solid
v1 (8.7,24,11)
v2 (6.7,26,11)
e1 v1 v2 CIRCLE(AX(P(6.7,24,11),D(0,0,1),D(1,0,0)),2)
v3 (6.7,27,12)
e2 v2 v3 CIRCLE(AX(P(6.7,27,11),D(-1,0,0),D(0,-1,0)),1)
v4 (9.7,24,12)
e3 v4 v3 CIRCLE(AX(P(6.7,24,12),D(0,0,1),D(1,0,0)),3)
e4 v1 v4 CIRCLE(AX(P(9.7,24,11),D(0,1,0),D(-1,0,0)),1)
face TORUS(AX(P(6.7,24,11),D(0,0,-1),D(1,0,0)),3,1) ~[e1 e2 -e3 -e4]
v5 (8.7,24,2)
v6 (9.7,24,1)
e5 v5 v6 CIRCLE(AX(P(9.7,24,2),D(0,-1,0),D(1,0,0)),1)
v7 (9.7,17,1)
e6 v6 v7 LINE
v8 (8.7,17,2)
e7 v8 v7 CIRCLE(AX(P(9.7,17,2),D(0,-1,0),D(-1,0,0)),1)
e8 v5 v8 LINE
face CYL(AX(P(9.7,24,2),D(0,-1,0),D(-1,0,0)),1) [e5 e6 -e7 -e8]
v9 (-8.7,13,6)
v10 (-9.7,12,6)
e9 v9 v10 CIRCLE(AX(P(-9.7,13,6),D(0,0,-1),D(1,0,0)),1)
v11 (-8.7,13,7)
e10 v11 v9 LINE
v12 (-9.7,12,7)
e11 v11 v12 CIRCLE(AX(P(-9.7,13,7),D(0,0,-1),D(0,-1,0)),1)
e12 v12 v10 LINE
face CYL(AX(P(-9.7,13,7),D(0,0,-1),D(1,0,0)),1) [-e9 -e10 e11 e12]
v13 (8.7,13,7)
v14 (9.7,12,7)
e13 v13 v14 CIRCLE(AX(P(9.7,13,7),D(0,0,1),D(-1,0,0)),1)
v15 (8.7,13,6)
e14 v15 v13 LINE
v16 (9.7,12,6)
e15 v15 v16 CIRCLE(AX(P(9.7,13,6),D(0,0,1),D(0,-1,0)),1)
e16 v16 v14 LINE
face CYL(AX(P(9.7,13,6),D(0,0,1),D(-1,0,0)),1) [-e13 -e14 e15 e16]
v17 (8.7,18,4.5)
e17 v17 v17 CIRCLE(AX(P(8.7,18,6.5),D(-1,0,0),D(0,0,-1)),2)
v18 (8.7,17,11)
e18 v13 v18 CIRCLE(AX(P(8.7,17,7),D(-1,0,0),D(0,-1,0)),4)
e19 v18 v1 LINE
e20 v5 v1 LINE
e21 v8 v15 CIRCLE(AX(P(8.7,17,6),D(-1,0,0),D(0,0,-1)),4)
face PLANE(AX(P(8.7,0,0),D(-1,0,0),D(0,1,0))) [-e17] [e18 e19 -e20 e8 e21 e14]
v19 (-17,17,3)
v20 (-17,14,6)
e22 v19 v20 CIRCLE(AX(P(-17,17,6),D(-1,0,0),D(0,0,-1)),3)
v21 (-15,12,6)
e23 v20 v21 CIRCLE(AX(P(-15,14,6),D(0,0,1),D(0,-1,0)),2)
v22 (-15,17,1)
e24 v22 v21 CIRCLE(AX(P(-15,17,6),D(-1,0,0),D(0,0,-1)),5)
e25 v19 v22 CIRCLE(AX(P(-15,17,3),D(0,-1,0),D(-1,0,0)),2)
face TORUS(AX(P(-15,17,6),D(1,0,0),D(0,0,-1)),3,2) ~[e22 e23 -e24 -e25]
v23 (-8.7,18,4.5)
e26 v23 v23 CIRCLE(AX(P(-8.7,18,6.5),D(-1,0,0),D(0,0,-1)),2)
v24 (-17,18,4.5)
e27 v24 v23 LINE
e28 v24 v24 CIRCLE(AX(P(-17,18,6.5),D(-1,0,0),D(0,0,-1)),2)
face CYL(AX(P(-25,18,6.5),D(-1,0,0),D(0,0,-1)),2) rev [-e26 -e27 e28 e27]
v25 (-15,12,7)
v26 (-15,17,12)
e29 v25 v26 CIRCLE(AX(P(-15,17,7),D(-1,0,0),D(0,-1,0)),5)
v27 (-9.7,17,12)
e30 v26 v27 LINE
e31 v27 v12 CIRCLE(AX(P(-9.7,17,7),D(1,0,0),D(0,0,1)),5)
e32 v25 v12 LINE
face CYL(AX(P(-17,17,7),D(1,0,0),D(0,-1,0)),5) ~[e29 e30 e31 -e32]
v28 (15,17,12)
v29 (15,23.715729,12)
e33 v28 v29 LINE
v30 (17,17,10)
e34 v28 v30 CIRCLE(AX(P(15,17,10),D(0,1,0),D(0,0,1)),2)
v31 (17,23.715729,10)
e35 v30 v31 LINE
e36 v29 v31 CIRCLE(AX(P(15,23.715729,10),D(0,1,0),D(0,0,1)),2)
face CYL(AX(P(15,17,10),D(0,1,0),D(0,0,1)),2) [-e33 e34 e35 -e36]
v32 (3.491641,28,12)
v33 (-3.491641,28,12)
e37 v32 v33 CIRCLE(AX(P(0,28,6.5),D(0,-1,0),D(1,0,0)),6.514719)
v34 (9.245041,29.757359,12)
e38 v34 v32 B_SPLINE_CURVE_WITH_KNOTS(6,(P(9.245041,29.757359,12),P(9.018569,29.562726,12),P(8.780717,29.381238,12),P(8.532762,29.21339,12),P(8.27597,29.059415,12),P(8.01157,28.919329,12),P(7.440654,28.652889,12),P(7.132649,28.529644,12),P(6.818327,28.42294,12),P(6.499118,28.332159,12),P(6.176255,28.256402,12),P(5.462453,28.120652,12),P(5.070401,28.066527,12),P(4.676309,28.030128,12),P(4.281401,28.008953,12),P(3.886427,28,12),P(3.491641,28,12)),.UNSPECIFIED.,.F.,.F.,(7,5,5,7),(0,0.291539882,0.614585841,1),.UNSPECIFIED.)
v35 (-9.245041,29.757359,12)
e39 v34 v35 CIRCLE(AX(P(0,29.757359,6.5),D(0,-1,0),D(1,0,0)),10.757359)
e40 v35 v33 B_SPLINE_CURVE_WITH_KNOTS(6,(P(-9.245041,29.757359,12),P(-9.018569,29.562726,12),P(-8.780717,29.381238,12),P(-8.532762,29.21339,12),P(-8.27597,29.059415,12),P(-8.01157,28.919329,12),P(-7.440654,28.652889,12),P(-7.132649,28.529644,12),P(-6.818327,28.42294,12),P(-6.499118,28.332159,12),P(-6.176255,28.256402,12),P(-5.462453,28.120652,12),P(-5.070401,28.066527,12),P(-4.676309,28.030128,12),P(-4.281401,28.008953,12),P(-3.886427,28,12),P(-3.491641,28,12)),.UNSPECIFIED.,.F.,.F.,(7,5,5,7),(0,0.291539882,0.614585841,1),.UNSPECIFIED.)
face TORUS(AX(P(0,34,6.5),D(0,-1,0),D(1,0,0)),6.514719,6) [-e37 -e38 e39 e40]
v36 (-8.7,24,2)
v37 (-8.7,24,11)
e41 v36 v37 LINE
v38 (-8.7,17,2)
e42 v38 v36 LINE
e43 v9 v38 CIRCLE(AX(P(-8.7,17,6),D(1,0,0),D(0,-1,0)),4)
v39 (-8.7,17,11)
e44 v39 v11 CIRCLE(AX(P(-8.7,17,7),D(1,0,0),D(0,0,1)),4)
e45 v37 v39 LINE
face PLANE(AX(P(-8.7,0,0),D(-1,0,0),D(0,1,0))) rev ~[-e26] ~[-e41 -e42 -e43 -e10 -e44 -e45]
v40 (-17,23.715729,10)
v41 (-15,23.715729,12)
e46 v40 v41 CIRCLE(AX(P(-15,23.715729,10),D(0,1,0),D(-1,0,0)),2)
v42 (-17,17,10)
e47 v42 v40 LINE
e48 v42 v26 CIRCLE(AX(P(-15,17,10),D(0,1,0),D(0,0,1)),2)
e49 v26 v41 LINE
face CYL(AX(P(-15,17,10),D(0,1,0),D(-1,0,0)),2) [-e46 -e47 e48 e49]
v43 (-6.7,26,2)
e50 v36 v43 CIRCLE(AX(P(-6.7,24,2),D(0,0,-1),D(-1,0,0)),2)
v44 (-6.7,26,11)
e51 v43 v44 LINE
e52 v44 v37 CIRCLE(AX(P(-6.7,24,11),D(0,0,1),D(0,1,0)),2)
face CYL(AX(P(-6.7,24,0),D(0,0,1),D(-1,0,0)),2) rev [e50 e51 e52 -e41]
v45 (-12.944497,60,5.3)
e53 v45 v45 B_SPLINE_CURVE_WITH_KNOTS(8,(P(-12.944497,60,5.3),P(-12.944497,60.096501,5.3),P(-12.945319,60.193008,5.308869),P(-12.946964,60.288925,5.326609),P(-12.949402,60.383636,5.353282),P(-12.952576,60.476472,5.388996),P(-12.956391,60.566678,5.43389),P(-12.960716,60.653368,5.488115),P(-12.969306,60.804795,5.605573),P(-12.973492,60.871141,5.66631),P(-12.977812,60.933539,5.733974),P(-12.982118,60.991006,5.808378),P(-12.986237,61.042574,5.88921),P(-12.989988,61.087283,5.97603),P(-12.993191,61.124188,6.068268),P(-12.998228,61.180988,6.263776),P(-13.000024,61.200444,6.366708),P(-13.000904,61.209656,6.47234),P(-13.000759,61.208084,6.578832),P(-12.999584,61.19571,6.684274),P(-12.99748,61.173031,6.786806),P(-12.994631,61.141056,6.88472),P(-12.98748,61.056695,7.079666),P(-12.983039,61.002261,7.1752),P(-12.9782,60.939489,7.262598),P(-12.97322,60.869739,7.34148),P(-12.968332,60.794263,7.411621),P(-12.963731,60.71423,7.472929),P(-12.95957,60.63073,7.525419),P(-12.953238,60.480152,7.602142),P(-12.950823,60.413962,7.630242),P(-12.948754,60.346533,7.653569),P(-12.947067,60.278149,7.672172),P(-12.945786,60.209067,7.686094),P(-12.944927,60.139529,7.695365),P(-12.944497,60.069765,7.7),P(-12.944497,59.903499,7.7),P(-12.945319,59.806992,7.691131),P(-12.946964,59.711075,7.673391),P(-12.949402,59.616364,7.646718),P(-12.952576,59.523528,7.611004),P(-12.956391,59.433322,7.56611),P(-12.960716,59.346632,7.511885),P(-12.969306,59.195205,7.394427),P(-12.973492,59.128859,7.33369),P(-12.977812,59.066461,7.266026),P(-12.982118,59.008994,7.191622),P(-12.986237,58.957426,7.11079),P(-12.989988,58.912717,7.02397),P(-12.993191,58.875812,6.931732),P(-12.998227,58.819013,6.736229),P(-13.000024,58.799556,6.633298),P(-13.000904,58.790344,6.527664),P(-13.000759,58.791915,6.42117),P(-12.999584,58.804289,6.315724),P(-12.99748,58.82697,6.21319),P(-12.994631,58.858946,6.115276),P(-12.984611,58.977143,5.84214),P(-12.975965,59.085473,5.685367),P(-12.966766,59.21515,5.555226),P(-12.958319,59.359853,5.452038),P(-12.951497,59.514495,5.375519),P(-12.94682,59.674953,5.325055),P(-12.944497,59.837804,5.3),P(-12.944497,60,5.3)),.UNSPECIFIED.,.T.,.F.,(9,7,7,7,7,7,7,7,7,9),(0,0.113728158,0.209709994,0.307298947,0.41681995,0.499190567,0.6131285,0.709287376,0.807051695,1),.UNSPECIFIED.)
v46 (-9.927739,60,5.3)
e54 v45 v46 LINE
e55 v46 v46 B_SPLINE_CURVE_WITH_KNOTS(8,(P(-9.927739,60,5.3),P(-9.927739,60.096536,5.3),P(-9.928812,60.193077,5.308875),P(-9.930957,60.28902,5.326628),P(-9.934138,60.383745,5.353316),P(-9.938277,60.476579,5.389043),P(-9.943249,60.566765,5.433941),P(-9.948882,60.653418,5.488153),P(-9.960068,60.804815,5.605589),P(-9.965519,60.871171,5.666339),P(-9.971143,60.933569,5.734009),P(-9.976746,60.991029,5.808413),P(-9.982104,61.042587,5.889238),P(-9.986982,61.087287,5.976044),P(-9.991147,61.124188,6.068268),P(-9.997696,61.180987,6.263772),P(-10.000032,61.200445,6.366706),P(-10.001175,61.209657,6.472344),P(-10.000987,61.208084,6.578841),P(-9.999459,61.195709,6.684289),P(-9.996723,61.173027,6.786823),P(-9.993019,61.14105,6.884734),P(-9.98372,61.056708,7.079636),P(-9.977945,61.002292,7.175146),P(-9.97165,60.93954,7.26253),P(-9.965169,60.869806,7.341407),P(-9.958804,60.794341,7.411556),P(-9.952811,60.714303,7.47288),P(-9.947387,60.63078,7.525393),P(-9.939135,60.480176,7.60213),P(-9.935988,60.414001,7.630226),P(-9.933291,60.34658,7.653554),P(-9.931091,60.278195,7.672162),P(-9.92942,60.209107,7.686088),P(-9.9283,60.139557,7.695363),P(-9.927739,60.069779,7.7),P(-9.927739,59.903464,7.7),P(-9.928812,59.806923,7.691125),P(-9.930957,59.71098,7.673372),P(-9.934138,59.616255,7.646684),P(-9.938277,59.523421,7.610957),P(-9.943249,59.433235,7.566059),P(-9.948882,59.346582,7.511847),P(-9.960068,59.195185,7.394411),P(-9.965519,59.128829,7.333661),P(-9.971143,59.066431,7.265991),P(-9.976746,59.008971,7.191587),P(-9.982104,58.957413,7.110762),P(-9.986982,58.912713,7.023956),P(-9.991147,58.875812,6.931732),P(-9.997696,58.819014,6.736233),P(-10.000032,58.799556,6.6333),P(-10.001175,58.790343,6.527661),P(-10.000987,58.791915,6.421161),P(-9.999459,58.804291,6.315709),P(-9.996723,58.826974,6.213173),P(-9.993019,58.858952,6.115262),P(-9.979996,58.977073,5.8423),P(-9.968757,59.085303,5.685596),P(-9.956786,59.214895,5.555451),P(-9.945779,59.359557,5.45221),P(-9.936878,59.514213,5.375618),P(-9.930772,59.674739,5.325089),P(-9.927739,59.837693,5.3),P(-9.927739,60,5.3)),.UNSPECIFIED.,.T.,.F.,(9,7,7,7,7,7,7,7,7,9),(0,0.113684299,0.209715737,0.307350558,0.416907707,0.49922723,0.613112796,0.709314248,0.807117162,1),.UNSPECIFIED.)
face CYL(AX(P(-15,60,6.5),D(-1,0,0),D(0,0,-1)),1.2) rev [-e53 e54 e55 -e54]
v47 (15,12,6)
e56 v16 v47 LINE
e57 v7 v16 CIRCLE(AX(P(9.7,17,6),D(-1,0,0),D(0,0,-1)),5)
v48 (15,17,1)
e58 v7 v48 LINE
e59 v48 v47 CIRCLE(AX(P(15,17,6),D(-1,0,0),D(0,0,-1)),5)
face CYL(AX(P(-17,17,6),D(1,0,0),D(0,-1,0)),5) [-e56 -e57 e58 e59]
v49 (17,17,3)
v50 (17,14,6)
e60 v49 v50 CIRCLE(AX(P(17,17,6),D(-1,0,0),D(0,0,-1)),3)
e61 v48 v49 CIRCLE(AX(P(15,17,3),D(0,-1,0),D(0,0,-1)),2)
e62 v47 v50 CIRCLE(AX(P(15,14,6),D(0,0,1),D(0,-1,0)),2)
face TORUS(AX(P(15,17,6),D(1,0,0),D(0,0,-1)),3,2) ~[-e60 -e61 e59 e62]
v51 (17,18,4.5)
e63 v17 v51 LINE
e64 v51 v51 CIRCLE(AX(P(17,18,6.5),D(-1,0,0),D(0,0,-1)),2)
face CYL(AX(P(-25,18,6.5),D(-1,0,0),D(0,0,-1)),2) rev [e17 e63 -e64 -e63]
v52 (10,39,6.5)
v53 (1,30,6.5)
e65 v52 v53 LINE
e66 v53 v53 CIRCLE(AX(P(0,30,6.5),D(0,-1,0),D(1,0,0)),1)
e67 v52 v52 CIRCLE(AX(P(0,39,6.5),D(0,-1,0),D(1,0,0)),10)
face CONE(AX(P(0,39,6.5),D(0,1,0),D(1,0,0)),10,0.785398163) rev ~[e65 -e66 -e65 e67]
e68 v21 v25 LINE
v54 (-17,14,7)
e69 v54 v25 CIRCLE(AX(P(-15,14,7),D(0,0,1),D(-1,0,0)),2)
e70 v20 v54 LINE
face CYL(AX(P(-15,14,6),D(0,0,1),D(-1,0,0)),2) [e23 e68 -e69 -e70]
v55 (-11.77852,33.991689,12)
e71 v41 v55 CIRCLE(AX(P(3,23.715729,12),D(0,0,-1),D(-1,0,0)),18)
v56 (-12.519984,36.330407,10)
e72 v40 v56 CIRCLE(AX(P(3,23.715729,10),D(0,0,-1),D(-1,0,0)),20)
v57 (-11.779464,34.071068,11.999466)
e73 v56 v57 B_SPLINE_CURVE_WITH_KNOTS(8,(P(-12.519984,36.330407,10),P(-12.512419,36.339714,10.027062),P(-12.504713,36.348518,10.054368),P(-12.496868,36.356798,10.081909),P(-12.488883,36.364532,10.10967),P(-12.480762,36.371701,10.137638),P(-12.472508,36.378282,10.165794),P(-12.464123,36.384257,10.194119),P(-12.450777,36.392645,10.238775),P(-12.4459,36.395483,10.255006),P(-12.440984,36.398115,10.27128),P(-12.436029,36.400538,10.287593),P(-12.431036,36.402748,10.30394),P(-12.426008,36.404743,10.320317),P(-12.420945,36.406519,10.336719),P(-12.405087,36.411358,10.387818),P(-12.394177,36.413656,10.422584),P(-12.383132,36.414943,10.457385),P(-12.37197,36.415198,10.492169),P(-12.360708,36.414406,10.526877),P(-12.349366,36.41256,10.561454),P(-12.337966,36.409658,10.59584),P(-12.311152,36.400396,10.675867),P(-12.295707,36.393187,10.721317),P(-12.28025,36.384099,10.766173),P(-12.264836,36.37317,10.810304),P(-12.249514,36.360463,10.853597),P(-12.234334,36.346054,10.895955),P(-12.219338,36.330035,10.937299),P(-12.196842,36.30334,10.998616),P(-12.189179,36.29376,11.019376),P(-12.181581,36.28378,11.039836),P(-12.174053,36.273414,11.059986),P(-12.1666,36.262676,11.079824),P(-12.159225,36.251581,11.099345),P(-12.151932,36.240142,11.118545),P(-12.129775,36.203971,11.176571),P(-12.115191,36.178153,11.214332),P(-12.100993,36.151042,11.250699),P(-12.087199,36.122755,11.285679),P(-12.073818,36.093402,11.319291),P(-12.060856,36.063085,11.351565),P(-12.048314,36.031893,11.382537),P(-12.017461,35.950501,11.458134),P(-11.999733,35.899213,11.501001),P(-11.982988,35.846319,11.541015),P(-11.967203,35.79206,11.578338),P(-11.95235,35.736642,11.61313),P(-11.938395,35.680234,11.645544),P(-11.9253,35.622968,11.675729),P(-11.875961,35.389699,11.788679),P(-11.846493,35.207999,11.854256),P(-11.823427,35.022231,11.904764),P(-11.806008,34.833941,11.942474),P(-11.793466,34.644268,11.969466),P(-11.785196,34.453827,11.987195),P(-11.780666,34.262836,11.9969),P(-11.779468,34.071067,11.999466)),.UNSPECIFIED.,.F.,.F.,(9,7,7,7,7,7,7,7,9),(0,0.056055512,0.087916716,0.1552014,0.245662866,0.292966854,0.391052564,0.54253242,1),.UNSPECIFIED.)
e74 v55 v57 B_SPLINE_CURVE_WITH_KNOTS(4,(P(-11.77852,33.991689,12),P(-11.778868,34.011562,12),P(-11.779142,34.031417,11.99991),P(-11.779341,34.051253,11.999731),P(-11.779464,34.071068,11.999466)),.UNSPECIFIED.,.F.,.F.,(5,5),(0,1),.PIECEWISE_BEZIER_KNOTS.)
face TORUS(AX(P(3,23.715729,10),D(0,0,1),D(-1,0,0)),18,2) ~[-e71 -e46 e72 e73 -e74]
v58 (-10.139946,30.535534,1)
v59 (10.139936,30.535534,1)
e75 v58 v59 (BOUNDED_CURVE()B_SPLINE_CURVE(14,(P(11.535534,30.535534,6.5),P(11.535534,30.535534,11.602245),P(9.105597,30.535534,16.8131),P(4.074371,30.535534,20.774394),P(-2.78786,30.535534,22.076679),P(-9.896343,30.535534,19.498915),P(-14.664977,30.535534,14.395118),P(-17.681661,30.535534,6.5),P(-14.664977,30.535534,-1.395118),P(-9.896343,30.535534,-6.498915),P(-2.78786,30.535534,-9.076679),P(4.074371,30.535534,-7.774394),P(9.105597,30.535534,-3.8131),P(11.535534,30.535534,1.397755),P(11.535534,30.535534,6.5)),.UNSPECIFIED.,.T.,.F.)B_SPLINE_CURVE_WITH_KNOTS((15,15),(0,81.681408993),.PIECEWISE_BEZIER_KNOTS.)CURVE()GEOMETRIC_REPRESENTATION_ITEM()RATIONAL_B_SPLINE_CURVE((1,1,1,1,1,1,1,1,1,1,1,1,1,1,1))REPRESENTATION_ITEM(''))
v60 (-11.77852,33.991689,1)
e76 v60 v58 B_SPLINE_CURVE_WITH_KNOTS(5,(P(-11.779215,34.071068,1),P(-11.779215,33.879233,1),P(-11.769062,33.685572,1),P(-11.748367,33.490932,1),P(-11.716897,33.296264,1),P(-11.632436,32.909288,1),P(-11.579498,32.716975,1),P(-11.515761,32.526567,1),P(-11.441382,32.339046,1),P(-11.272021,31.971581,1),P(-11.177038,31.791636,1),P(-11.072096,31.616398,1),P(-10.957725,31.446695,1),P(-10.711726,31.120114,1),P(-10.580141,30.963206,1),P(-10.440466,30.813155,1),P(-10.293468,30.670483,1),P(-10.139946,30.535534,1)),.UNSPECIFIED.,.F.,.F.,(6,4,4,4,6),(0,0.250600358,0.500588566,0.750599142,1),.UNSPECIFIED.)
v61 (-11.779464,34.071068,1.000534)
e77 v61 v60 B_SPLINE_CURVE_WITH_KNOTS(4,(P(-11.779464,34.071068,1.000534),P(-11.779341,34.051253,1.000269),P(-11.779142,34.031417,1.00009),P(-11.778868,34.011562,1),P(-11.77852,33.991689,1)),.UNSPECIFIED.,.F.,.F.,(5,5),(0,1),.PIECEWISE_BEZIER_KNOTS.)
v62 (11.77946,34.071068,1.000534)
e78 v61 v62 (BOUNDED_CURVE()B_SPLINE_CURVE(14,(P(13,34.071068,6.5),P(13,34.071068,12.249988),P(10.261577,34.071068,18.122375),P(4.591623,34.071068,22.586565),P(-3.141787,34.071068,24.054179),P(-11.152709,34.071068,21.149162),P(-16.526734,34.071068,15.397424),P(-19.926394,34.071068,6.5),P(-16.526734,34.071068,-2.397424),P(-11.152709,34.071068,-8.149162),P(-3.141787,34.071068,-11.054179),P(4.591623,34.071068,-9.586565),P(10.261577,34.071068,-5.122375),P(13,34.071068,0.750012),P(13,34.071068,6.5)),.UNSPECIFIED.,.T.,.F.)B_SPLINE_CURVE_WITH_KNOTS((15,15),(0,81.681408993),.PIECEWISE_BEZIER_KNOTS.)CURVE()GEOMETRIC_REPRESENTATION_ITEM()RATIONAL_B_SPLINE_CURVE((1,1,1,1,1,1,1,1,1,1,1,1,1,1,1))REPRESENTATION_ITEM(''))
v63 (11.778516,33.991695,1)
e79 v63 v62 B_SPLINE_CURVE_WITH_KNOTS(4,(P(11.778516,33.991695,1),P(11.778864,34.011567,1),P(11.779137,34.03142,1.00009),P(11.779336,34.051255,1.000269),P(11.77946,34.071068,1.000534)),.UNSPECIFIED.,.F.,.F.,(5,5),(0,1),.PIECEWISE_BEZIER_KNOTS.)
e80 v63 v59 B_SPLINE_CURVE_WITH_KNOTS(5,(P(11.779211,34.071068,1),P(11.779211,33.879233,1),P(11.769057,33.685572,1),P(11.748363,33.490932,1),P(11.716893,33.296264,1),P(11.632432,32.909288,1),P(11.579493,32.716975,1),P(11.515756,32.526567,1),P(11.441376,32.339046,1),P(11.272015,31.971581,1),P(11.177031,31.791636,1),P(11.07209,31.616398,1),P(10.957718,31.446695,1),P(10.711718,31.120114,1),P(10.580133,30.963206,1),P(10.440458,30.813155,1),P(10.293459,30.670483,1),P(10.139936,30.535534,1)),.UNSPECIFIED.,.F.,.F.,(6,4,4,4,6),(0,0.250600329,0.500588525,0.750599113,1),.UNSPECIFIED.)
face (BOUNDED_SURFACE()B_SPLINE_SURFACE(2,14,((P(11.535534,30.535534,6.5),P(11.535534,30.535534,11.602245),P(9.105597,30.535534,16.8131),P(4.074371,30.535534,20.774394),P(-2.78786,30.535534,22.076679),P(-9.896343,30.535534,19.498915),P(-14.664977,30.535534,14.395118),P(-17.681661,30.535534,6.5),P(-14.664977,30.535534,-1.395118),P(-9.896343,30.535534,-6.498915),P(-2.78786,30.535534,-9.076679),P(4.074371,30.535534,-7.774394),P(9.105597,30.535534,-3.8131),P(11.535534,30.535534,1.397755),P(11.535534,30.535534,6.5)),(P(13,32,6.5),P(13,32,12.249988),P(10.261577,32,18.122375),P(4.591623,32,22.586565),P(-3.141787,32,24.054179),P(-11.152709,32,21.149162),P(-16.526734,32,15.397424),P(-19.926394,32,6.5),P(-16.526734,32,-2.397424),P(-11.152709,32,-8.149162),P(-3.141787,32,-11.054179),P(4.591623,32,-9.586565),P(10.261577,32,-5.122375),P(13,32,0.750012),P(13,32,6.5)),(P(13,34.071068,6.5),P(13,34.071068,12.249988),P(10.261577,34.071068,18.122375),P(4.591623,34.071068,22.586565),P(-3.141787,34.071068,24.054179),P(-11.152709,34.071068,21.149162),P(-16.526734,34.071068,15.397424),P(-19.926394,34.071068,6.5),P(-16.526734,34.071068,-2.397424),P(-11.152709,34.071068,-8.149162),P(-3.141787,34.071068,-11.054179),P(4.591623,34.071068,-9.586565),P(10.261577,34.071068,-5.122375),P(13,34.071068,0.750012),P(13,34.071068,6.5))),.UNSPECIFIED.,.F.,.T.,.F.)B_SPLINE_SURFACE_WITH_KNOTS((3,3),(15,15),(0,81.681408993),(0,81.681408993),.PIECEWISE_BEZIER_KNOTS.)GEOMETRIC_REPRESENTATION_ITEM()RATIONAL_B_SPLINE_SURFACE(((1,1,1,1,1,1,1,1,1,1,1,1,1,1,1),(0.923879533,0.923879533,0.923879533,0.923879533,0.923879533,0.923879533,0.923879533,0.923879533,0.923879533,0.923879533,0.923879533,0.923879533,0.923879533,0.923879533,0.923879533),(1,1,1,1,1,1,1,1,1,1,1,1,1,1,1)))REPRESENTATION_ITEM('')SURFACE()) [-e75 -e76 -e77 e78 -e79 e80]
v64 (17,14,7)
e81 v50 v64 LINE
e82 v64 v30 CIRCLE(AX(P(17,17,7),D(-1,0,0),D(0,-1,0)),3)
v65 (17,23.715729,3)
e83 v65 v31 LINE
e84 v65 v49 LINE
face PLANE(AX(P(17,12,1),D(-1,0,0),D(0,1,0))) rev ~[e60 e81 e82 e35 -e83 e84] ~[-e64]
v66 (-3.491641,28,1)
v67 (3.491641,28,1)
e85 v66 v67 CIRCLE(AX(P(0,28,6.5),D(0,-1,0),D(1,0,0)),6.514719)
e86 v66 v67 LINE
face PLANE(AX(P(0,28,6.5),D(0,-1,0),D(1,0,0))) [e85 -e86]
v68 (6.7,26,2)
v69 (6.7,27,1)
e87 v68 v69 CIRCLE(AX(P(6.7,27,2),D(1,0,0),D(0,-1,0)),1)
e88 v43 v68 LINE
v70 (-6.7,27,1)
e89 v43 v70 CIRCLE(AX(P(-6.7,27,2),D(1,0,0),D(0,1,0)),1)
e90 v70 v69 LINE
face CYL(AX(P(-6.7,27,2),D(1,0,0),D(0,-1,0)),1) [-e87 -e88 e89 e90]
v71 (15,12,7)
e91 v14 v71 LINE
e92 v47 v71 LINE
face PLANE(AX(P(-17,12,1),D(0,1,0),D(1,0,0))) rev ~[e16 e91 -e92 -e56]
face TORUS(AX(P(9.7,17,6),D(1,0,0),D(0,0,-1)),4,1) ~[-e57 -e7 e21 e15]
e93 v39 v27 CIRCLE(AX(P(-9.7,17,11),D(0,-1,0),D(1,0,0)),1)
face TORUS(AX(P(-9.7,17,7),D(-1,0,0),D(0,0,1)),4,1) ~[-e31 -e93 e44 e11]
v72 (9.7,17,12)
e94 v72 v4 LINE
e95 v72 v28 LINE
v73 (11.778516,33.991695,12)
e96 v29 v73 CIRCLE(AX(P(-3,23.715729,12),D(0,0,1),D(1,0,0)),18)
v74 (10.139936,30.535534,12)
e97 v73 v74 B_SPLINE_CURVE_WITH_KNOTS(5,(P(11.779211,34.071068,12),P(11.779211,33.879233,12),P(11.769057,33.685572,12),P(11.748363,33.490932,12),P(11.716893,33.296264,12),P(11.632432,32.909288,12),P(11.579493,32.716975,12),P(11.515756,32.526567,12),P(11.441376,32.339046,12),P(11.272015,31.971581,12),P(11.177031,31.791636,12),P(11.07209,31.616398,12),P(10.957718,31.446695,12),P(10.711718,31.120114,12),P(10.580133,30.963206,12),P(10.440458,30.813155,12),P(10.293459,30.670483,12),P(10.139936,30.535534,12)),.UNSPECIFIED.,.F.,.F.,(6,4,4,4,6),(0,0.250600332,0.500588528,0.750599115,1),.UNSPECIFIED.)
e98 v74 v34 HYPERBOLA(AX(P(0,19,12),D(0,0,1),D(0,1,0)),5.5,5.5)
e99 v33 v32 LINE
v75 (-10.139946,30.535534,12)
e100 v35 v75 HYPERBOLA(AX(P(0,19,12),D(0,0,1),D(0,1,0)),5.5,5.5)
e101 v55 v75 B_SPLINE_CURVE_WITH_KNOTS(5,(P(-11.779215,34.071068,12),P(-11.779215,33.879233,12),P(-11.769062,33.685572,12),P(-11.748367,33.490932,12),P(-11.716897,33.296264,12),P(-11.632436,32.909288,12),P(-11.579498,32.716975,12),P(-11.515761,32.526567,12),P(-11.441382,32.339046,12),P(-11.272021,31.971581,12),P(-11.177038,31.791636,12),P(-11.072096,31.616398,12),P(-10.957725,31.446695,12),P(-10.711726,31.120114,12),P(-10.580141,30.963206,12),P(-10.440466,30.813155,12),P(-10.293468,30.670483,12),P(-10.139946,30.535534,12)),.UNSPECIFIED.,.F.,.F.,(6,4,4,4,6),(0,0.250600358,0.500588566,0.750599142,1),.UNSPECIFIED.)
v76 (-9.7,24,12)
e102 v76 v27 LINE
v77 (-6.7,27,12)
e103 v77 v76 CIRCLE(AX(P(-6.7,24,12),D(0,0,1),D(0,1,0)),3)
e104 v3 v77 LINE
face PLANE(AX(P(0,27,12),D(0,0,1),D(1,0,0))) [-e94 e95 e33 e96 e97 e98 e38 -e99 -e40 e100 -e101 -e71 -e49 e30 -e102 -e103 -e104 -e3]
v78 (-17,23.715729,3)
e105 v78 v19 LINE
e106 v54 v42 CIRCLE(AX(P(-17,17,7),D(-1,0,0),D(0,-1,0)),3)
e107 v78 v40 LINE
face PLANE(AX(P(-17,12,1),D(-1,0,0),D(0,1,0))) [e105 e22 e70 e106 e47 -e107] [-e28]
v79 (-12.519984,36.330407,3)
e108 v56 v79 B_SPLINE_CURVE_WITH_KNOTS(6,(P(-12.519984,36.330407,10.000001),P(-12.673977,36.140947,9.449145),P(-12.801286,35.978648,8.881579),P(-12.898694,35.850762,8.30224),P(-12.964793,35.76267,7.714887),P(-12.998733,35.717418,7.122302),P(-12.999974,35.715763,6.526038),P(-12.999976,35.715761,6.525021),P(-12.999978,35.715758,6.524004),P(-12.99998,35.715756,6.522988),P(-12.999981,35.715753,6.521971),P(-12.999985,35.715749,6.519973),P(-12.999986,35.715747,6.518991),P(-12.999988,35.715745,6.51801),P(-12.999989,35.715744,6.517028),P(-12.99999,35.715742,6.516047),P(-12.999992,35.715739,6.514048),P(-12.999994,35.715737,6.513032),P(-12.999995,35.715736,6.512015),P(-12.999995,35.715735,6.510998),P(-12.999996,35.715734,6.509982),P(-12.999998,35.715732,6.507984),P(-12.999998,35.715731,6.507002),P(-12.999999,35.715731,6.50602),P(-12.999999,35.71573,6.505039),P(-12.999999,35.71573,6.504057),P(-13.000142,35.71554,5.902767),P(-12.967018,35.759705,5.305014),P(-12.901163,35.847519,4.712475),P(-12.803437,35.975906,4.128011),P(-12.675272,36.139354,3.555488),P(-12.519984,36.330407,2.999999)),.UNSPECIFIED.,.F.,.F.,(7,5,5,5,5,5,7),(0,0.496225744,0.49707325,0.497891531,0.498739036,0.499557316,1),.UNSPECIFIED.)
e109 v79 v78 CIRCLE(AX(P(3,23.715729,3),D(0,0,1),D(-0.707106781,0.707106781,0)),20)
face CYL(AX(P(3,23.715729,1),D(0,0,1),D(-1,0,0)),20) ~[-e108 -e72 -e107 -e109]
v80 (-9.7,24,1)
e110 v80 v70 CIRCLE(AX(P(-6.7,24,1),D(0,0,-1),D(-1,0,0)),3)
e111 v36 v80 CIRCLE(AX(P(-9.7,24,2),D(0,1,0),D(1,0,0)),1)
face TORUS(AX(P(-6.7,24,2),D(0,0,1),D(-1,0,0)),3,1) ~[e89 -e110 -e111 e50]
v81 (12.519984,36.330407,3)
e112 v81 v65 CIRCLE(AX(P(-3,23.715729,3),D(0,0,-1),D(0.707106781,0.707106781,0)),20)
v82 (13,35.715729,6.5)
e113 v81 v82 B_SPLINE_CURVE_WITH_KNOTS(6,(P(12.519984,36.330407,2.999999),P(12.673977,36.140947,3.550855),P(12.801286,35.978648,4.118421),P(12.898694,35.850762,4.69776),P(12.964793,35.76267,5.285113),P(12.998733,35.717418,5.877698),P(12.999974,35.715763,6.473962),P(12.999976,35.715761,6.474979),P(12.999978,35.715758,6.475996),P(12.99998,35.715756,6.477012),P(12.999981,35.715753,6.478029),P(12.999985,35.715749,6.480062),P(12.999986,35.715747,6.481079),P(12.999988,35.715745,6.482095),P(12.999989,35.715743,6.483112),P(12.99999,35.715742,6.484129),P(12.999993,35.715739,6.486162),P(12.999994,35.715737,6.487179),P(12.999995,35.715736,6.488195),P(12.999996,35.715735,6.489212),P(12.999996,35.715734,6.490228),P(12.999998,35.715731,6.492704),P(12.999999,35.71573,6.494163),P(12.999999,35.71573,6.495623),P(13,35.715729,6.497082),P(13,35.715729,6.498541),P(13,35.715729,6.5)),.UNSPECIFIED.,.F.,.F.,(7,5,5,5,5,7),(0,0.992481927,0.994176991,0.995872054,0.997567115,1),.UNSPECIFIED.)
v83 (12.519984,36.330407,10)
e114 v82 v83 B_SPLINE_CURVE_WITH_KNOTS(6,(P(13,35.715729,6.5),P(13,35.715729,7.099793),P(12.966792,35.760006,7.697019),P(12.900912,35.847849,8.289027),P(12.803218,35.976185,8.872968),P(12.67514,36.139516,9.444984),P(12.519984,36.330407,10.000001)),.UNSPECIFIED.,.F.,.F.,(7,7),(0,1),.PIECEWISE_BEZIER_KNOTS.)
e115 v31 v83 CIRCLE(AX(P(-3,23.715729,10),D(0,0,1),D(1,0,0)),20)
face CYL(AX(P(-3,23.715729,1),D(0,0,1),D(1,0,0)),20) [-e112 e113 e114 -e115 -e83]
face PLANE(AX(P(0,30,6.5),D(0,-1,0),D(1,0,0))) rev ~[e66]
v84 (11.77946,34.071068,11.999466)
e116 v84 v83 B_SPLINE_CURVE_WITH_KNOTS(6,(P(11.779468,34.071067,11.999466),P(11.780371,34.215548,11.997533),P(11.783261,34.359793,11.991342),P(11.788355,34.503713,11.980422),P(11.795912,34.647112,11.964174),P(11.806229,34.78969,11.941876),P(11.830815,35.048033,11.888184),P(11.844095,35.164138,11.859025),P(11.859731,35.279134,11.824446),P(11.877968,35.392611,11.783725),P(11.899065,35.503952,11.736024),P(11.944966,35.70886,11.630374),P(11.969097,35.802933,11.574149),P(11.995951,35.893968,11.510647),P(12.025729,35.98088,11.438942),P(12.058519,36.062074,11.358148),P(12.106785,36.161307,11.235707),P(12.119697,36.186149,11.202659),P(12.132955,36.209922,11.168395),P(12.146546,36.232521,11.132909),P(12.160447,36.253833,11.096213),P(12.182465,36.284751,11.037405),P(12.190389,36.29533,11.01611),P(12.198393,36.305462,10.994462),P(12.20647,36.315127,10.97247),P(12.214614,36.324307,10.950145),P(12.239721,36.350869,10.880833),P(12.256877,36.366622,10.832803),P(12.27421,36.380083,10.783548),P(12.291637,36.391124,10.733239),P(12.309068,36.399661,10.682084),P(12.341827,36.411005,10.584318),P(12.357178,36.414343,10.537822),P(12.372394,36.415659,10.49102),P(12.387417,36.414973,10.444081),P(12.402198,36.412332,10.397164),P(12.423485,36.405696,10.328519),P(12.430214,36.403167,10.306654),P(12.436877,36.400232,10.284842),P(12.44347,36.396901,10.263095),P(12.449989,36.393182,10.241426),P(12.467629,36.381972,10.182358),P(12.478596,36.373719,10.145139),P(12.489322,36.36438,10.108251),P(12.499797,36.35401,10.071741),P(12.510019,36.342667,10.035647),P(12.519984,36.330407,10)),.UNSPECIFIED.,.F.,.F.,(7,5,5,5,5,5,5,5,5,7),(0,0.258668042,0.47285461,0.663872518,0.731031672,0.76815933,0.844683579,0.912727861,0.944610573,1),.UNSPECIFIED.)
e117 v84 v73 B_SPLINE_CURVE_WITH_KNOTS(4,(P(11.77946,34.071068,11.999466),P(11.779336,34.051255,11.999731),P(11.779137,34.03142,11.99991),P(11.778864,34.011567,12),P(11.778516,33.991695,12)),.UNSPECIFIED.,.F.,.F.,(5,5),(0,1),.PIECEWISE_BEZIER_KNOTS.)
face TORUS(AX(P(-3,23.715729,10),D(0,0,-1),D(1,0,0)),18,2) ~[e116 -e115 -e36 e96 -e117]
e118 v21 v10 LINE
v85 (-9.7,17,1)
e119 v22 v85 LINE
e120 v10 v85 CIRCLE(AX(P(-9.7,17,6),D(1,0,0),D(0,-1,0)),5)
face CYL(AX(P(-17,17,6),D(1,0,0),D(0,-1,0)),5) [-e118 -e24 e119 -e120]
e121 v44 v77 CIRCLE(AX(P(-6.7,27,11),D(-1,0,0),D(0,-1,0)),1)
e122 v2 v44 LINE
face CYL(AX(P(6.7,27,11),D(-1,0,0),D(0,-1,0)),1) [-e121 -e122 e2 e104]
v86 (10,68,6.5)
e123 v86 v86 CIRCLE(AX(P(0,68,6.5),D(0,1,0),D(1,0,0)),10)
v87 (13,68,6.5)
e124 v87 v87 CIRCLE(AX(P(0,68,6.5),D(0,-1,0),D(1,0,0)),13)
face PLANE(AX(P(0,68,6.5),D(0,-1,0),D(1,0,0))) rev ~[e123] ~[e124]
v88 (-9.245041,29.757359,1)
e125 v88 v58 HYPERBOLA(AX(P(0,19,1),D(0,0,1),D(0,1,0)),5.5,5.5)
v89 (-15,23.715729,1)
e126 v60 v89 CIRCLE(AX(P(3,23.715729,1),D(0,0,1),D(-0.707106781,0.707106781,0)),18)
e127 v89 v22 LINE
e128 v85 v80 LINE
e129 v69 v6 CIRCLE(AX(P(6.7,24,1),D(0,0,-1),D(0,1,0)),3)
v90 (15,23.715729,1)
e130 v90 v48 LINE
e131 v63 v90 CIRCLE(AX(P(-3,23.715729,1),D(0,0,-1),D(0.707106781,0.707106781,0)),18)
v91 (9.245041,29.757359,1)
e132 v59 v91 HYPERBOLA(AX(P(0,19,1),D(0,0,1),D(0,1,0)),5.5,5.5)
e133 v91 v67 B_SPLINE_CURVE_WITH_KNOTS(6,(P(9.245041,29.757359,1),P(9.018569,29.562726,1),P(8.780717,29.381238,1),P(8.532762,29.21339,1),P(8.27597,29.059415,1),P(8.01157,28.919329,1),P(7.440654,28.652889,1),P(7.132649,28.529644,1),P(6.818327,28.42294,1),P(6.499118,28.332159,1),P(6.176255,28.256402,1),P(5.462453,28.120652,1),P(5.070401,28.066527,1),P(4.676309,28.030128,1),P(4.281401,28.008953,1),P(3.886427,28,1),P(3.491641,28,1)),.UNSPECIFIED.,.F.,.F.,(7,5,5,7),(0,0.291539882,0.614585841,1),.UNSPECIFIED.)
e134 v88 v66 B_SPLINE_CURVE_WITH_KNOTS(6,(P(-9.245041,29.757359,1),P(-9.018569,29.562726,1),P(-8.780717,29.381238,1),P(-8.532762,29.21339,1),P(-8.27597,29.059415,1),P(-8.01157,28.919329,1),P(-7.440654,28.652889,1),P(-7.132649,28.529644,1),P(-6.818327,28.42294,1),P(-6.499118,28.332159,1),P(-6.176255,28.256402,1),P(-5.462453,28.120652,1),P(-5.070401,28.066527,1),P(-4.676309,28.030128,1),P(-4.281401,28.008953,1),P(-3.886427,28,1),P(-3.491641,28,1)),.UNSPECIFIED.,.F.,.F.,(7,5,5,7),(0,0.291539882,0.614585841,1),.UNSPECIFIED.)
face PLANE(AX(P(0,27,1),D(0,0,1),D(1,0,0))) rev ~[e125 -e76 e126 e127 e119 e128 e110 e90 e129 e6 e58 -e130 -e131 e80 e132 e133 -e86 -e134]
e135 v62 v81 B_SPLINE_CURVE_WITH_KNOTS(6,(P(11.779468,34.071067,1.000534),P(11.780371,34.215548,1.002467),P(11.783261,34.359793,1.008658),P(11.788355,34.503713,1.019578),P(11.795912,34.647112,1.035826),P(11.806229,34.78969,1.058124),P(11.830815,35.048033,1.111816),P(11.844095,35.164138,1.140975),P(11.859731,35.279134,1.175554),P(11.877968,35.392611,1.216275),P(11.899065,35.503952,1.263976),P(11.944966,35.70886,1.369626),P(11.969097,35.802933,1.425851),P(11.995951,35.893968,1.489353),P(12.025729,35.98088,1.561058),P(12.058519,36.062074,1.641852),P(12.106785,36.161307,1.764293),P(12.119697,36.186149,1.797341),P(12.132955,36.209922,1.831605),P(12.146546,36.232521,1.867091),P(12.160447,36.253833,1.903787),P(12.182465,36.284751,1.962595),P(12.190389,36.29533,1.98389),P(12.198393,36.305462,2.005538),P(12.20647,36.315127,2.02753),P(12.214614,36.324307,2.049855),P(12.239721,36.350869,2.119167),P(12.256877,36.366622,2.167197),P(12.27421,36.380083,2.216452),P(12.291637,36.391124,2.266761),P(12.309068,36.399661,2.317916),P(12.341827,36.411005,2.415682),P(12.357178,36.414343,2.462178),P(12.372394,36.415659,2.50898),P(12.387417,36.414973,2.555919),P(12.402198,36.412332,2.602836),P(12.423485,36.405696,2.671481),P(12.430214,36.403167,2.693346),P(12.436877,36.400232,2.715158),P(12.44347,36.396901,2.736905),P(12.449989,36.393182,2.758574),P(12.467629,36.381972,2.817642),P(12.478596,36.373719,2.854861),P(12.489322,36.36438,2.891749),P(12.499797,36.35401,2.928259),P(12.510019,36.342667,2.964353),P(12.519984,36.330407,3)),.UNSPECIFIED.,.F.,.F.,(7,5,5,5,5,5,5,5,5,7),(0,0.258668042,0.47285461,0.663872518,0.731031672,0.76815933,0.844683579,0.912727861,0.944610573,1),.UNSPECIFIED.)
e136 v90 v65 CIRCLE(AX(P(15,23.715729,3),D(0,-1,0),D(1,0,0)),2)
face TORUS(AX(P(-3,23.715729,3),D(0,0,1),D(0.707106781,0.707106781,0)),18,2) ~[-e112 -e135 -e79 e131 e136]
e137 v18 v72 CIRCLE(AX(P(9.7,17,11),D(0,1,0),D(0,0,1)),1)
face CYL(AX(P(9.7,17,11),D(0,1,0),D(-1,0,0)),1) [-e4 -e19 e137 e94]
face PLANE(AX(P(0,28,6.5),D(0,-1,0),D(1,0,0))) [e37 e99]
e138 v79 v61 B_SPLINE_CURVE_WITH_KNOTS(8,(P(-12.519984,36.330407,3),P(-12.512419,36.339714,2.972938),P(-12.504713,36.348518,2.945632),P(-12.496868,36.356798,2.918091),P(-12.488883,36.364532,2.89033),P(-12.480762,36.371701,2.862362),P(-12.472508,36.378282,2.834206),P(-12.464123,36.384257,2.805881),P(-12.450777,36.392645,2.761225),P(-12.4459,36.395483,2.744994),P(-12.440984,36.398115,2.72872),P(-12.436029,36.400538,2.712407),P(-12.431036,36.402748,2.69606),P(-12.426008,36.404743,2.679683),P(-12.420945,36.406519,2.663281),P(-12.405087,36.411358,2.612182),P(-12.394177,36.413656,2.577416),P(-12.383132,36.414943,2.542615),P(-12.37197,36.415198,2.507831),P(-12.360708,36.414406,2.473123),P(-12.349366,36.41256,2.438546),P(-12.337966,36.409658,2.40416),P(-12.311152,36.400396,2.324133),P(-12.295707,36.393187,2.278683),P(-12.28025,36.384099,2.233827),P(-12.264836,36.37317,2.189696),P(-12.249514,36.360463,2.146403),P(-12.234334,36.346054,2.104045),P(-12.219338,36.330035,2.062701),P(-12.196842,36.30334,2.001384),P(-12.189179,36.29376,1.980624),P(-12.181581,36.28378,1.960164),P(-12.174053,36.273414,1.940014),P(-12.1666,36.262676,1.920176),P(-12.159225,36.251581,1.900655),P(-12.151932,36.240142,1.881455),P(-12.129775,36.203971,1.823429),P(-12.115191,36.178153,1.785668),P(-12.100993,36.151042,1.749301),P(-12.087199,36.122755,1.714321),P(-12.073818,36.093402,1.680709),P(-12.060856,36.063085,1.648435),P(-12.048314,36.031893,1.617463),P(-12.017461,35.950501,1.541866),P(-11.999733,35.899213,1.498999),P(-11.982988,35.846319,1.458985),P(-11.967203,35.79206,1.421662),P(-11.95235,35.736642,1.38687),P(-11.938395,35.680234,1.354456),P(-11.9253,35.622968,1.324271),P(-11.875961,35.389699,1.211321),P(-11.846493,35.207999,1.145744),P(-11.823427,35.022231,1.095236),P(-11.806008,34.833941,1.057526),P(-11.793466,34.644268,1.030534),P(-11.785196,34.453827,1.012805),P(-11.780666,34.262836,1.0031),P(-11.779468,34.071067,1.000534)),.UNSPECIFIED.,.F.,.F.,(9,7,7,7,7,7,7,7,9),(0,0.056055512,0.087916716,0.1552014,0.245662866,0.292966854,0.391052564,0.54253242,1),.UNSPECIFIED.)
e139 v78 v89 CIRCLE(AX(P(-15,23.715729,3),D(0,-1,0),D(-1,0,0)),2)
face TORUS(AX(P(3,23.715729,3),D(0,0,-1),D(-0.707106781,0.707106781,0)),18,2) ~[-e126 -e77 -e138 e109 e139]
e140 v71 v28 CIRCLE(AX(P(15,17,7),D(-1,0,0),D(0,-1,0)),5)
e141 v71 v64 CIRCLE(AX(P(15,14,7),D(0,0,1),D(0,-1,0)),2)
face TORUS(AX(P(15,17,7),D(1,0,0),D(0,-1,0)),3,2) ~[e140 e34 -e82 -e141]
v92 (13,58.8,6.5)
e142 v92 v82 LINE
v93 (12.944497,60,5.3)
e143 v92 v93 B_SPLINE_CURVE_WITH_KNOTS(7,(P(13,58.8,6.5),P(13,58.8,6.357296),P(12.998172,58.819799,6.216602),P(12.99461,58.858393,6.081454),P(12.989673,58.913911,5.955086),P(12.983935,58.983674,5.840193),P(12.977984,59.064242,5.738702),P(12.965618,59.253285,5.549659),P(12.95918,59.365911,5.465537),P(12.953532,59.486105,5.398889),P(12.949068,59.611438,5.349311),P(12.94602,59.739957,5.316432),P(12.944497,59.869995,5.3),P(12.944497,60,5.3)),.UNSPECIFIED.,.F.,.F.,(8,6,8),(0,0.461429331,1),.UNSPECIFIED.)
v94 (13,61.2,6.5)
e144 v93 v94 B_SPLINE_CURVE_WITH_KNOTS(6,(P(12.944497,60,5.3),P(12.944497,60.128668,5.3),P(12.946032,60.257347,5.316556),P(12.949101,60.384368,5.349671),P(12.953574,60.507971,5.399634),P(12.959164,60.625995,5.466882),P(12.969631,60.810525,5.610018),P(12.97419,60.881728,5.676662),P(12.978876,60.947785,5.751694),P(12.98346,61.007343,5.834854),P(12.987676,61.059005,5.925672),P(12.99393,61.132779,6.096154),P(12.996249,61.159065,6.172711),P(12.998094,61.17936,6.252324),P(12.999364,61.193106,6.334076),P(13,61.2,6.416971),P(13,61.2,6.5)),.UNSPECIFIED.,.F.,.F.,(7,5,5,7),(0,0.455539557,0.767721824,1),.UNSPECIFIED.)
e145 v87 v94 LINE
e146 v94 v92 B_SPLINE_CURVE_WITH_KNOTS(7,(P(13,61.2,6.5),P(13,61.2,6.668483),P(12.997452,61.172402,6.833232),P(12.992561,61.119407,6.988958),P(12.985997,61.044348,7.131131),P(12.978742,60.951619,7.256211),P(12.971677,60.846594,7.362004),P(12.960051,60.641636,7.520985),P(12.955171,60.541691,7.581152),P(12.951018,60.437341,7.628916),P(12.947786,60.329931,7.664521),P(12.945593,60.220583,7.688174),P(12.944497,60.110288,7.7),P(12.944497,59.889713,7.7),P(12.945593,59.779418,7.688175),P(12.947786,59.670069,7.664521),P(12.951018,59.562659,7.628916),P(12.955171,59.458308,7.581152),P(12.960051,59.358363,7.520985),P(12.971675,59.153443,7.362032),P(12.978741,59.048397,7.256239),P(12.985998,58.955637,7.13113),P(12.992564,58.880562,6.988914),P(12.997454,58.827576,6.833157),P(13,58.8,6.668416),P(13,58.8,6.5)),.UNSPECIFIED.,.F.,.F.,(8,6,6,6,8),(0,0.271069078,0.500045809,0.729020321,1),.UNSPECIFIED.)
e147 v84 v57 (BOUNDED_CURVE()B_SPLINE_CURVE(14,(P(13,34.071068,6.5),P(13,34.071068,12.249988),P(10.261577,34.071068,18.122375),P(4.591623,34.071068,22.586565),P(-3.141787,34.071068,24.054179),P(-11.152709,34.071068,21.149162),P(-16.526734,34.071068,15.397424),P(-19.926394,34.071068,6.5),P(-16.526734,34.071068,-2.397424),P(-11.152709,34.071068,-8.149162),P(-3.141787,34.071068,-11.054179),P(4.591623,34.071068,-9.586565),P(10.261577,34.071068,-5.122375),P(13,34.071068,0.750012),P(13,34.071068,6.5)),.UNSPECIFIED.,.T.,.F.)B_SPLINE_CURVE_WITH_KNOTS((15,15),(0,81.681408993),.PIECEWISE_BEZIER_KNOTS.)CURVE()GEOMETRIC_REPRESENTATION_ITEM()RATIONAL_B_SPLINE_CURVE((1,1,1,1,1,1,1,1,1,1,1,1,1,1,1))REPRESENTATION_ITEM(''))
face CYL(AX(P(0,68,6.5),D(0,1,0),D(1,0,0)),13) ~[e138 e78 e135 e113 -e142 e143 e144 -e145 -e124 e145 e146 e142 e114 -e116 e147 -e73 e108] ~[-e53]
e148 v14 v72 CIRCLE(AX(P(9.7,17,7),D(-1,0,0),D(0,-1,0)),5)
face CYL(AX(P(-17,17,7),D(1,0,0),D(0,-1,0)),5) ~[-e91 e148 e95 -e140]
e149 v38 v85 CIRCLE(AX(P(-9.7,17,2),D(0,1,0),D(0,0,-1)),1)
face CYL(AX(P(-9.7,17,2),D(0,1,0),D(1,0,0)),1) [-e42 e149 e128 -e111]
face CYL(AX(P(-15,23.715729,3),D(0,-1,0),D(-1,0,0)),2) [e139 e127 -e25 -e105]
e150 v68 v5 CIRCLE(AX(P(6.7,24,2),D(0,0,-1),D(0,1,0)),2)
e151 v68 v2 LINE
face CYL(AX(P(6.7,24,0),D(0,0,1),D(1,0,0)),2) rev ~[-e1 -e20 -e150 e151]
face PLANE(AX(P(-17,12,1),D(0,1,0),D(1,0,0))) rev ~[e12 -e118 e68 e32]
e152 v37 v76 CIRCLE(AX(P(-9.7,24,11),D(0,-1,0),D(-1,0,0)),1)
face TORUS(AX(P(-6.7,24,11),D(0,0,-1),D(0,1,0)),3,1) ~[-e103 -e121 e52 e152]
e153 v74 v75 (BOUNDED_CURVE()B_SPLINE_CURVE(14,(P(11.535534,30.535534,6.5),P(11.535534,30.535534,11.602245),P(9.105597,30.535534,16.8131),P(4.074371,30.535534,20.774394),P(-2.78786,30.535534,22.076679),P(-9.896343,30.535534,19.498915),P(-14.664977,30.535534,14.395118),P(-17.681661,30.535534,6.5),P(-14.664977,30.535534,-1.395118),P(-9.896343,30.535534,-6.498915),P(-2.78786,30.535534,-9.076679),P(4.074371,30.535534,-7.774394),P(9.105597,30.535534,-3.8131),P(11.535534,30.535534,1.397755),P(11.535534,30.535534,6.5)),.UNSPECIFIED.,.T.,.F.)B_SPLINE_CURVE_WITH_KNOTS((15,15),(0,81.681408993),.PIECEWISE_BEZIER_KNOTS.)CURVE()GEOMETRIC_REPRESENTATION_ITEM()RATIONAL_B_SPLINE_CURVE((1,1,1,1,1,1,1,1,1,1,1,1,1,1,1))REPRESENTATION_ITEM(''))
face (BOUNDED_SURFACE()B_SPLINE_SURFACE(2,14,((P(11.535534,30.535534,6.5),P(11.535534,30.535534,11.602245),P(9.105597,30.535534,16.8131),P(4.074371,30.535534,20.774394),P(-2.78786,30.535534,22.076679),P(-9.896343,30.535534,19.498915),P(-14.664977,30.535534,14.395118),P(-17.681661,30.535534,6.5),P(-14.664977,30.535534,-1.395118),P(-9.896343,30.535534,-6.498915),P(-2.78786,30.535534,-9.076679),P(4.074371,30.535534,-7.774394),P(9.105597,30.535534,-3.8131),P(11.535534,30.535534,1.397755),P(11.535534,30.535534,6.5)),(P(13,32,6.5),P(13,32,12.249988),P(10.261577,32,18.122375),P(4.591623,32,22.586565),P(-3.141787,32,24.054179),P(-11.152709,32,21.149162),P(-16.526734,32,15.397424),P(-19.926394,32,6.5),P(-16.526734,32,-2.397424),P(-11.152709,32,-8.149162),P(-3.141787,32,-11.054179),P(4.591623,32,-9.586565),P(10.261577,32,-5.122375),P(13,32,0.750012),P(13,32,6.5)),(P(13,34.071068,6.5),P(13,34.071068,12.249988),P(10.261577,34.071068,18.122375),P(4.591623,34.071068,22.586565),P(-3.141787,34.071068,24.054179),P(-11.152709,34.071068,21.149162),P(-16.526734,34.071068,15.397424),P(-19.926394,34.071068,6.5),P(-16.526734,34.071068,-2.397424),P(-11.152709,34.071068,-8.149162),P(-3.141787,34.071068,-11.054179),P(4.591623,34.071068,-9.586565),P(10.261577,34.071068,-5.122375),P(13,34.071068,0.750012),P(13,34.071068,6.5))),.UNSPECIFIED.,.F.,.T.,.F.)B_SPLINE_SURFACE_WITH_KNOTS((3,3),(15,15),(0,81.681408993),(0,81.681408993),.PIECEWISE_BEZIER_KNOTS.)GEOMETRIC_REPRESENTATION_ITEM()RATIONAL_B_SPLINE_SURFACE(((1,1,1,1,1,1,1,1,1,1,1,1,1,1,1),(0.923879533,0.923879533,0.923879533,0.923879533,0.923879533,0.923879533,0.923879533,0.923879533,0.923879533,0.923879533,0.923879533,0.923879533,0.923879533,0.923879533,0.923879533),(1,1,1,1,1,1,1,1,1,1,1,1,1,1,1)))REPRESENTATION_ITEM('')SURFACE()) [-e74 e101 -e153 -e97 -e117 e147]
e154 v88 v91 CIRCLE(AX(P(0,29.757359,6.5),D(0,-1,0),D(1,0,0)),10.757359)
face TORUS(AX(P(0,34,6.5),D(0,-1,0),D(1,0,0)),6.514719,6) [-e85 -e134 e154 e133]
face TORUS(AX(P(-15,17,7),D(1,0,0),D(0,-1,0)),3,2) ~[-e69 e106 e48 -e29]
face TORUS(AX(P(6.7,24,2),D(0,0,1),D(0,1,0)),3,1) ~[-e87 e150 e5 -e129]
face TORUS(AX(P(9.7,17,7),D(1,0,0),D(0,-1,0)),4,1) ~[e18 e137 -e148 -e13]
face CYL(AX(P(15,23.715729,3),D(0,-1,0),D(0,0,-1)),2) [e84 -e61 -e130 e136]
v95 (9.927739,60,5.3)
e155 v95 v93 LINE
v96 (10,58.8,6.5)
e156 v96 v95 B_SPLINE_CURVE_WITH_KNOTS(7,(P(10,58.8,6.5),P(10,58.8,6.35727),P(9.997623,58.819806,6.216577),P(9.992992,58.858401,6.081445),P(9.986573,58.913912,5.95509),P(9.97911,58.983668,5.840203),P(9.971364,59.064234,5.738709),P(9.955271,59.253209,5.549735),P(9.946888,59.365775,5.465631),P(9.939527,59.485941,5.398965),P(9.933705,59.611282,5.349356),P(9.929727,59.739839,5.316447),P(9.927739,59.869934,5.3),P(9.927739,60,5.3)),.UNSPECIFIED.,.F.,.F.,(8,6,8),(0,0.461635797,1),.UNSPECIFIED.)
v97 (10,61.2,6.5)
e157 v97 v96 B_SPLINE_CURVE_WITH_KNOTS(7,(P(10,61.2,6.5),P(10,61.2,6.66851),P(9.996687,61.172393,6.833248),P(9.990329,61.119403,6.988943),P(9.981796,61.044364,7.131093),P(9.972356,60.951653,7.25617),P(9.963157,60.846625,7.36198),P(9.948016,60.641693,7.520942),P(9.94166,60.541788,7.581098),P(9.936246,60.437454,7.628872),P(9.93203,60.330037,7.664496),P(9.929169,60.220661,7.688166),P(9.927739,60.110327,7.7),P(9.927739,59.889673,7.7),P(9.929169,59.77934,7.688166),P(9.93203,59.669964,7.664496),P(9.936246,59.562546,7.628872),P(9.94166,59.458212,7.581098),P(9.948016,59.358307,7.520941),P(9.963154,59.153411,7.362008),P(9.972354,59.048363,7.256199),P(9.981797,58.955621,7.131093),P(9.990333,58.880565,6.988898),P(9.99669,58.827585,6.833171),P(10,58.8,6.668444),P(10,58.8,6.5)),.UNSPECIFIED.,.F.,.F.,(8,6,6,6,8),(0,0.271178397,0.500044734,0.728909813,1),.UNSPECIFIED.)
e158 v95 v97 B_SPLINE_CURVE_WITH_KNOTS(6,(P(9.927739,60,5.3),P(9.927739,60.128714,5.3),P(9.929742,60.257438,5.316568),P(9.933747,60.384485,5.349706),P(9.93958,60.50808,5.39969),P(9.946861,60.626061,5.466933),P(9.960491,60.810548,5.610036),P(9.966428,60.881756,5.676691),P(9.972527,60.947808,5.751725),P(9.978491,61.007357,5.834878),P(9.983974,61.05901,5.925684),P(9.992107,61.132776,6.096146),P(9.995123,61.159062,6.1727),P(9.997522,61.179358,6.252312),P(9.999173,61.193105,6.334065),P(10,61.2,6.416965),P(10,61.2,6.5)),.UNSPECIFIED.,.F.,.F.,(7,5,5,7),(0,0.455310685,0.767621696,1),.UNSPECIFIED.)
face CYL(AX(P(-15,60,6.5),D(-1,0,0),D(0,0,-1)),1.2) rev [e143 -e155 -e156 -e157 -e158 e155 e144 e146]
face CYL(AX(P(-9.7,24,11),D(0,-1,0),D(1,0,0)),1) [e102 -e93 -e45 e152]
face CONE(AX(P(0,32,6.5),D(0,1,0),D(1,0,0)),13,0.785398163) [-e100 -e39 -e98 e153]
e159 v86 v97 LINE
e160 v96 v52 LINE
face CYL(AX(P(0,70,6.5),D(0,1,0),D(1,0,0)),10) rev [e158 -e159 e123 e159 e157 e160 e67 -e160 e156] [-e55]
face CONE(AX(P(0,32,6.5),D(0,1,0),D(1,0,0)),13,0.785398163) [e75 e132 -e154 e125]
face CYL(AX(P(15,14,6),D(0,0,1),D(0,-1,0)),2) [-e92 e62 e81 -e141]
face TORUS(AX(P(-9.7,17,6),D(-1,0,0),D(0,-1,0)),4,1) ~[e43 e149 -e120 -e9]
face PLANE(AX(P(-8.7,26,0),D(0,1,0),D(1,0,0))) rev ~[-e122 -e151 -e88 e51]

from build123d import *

# Parameters (mm, degrees)
CYLINDER013_R     = 1.2
CYLINDER013_DEPTH = 30
CYLINDER010_R     = 2
CYLINDER010_DEPTH = 50
BOX003_W          = 17.4
BOX003_H          = 26
BOX003_DEPTH      = 13
FILLET012_R       = 2
CYLINDER011_R     = 10
CYLINDER011_DEPTH = 40
CHAMFER008_SIZE   = 9
CYLINDER012_R     = 13
CYLINDER012_DEPTH = 40
CHAMFER009_SIZE   = 4
FILLET016_R       = 6
FILLET017_R       = 5
BOX004_W          = 34
BOX004_H          = 30
BOX004_DEPTH      = 11
FILLET013_R       = 5
CHAMFER010_SIZE   = 10
FILLET018_R       = 20
FILLET019_R       = 2
FILLET020_R       = 2
FILLET021_R       = 1


with BuildPart() as cylinder013:
    # Cylinder013 → Cylinder013 (new body)
    with BuildSketch(Plane(origin=(-15, 60, 6.5), x_dir=(0, 0, -1), z_dir=(1, 0, 0))):
        Circle(CYLINDER013_R)
    extrude(amount=CYLINDER013_DEPTH)


with BuildPart() as cylinder010:
    # Cylinder010 → Cylinder010 (new body)
    with BuildSketch(Plane(origin=(-25, 18, 6.5), x_dir=(0, 0, -1), z_dir=(1, 0, 0))):
        Circle(CYLINDER010_R)
    extrude(amount=CYLINDER010_DEPTH)


with BuildPart() as fillet012:
    # Box003 → Box003 (new body)
    with BuildSketch(Plane(origin=(-8.7, 0, 0), x_dir=(1, 0, 0), z_dir=(0, 0, 1))):
        with Locations((8.7, 13)):
            Rectangle(BOX003_W, BOX003_H)
    extrude(amount=BOX003_DEPTH)

    # Fillet012
    fillet012_edges = [fillet012.edges().sort_by_distance(p)[0] for p in [
        (-8.7, 26, 6.5),
        (8.7, 26, 6.5),
    ]]
    fillet(fillet012_edges, radius=FILLET012_R)


with BuildPart() as fusion005:
    # Cylinder011 → Cylinder011 (new body)
    with BuildSketch(Plane(origin=(0, 70, 6.5), x_dir=(1, 0, 0), z_dir=(0, -1, 0))):
        Circle(CYLINDER011_R)
    extrude(amount=CYLINDER011_DEPTH)

    # Chamfer008
    chamfer008_edges = [fusion005.edges().sort_by_distance(p)[0] for p in [
        (-10, 30, 6.5),
    ]]
    chamfer(chamfer008_edges, length=CHAMFER008_SIZE)

    # Fusion005: union Cylinder013, Cylinder010, Fillet012
    add(cylinder013.part)
    add(cylinder010.part)
    add(fillet012.part)


with BuildPart() as fillet017:
    # Cylinder012 → Cylinder012 (new body)
    with BuildSketch(Plane(origin=(0, 68, 6.5), x_dir=(1, 0, 0), z_dir=(0, -1, 0))):
        Circle(CYLINDER012_R)
    extrude(amount=CYLINDER012_DEPTH)

    # Chamfer009
    chamfer009_edges = [fillet017.edges().sort_by_distance(p)[0] for p in [
        (-13, 28, 6.5),
    ]]
    chamfer(chamfer009_edges, length=CHAMFER009_SIZE)

    # Fillet016
    fillet016_edges = [fillet017.edges().sort_by_distance(p)[0] for p in [
        (-9, 28, 6.5),
    ]]
    fillet(fillet016_edges, radius=FILLET016_R)

    # Fillet017
    fillet017_edges = [fillet017.edges().sort_by_distance(p)[0] for p in [
        (-13, 32, 6.5),
    ]]
    fillet(fillet017_edges, radius=FILLET017_R)


with BuildPart() as hindge004:
    # Box004 → Box004 (new body)
    with BuildSketch(Plane(origin=(-17, 12, 1), x_dir=(1, 0, 0), z_dir=(0, 0, 1))):
        with Locations((17, 15)):
            Rectangle(BOX004_W, BOX004_H)
    extrude(amount=BOX004_DEPTH)

    # Fillet013
    fillet013_edges = [hindge004.edges().sort_by_distance(p)[0] for p in [
        (0, 12, 1),
        (0, 12, 12),
    ]]
    fillet(fillet013_edges, radius=FILLET013_R)

    # Chamfer010
    chamfer010_edges = [hindge004.edges().sort_by_distance(p)[0] for p in [
        (-17, 42, 6.5),
        (17, 42, 6.5),
    ]]
    chamfer(chamfer010_edges, length=CHAMFER010_SIZE)

    # Fillet018
    fillet018_edges = [hindge004.edges().sort_by_distance(p)[0] for p in [
        (-17, 32, 6.5),
        (17, 32, 6.5),
    ]]
    fillet(fillet018_edges, radius=FILLET018_R)

    # Fillet019
    fillet019_edges = [hindge004.edges().sort_by_distance(p)[0] for p in [
        (15.477591, 31.369397, 12),
    ]]
    fillet(fillet019_edges, radius=FILLET019_R)

    # Fillet020
    fillet020_edges = [hindge004.edges().sort_by_distance(p)[0] for p in [
        (-15.477591, 31.369397, 12),
    ]]
    fillet(fillet020_edges, radius=FILLET020_R)

    # Fusion006: union Fillet017
    add(fillet017.part)

    # Cut005: cut Fusion005
    add(fusion005.part, mode=Mode.SUBTRACT)

    # Fillet021
    fillet021_edges = [hindge004.edges().sort_by_distance(p)[0] for p in [
        (0, 26, 12),
    ]]
    fillet(fillet021_edges, radius=FILLET021_R)


solid = hindge004.part
